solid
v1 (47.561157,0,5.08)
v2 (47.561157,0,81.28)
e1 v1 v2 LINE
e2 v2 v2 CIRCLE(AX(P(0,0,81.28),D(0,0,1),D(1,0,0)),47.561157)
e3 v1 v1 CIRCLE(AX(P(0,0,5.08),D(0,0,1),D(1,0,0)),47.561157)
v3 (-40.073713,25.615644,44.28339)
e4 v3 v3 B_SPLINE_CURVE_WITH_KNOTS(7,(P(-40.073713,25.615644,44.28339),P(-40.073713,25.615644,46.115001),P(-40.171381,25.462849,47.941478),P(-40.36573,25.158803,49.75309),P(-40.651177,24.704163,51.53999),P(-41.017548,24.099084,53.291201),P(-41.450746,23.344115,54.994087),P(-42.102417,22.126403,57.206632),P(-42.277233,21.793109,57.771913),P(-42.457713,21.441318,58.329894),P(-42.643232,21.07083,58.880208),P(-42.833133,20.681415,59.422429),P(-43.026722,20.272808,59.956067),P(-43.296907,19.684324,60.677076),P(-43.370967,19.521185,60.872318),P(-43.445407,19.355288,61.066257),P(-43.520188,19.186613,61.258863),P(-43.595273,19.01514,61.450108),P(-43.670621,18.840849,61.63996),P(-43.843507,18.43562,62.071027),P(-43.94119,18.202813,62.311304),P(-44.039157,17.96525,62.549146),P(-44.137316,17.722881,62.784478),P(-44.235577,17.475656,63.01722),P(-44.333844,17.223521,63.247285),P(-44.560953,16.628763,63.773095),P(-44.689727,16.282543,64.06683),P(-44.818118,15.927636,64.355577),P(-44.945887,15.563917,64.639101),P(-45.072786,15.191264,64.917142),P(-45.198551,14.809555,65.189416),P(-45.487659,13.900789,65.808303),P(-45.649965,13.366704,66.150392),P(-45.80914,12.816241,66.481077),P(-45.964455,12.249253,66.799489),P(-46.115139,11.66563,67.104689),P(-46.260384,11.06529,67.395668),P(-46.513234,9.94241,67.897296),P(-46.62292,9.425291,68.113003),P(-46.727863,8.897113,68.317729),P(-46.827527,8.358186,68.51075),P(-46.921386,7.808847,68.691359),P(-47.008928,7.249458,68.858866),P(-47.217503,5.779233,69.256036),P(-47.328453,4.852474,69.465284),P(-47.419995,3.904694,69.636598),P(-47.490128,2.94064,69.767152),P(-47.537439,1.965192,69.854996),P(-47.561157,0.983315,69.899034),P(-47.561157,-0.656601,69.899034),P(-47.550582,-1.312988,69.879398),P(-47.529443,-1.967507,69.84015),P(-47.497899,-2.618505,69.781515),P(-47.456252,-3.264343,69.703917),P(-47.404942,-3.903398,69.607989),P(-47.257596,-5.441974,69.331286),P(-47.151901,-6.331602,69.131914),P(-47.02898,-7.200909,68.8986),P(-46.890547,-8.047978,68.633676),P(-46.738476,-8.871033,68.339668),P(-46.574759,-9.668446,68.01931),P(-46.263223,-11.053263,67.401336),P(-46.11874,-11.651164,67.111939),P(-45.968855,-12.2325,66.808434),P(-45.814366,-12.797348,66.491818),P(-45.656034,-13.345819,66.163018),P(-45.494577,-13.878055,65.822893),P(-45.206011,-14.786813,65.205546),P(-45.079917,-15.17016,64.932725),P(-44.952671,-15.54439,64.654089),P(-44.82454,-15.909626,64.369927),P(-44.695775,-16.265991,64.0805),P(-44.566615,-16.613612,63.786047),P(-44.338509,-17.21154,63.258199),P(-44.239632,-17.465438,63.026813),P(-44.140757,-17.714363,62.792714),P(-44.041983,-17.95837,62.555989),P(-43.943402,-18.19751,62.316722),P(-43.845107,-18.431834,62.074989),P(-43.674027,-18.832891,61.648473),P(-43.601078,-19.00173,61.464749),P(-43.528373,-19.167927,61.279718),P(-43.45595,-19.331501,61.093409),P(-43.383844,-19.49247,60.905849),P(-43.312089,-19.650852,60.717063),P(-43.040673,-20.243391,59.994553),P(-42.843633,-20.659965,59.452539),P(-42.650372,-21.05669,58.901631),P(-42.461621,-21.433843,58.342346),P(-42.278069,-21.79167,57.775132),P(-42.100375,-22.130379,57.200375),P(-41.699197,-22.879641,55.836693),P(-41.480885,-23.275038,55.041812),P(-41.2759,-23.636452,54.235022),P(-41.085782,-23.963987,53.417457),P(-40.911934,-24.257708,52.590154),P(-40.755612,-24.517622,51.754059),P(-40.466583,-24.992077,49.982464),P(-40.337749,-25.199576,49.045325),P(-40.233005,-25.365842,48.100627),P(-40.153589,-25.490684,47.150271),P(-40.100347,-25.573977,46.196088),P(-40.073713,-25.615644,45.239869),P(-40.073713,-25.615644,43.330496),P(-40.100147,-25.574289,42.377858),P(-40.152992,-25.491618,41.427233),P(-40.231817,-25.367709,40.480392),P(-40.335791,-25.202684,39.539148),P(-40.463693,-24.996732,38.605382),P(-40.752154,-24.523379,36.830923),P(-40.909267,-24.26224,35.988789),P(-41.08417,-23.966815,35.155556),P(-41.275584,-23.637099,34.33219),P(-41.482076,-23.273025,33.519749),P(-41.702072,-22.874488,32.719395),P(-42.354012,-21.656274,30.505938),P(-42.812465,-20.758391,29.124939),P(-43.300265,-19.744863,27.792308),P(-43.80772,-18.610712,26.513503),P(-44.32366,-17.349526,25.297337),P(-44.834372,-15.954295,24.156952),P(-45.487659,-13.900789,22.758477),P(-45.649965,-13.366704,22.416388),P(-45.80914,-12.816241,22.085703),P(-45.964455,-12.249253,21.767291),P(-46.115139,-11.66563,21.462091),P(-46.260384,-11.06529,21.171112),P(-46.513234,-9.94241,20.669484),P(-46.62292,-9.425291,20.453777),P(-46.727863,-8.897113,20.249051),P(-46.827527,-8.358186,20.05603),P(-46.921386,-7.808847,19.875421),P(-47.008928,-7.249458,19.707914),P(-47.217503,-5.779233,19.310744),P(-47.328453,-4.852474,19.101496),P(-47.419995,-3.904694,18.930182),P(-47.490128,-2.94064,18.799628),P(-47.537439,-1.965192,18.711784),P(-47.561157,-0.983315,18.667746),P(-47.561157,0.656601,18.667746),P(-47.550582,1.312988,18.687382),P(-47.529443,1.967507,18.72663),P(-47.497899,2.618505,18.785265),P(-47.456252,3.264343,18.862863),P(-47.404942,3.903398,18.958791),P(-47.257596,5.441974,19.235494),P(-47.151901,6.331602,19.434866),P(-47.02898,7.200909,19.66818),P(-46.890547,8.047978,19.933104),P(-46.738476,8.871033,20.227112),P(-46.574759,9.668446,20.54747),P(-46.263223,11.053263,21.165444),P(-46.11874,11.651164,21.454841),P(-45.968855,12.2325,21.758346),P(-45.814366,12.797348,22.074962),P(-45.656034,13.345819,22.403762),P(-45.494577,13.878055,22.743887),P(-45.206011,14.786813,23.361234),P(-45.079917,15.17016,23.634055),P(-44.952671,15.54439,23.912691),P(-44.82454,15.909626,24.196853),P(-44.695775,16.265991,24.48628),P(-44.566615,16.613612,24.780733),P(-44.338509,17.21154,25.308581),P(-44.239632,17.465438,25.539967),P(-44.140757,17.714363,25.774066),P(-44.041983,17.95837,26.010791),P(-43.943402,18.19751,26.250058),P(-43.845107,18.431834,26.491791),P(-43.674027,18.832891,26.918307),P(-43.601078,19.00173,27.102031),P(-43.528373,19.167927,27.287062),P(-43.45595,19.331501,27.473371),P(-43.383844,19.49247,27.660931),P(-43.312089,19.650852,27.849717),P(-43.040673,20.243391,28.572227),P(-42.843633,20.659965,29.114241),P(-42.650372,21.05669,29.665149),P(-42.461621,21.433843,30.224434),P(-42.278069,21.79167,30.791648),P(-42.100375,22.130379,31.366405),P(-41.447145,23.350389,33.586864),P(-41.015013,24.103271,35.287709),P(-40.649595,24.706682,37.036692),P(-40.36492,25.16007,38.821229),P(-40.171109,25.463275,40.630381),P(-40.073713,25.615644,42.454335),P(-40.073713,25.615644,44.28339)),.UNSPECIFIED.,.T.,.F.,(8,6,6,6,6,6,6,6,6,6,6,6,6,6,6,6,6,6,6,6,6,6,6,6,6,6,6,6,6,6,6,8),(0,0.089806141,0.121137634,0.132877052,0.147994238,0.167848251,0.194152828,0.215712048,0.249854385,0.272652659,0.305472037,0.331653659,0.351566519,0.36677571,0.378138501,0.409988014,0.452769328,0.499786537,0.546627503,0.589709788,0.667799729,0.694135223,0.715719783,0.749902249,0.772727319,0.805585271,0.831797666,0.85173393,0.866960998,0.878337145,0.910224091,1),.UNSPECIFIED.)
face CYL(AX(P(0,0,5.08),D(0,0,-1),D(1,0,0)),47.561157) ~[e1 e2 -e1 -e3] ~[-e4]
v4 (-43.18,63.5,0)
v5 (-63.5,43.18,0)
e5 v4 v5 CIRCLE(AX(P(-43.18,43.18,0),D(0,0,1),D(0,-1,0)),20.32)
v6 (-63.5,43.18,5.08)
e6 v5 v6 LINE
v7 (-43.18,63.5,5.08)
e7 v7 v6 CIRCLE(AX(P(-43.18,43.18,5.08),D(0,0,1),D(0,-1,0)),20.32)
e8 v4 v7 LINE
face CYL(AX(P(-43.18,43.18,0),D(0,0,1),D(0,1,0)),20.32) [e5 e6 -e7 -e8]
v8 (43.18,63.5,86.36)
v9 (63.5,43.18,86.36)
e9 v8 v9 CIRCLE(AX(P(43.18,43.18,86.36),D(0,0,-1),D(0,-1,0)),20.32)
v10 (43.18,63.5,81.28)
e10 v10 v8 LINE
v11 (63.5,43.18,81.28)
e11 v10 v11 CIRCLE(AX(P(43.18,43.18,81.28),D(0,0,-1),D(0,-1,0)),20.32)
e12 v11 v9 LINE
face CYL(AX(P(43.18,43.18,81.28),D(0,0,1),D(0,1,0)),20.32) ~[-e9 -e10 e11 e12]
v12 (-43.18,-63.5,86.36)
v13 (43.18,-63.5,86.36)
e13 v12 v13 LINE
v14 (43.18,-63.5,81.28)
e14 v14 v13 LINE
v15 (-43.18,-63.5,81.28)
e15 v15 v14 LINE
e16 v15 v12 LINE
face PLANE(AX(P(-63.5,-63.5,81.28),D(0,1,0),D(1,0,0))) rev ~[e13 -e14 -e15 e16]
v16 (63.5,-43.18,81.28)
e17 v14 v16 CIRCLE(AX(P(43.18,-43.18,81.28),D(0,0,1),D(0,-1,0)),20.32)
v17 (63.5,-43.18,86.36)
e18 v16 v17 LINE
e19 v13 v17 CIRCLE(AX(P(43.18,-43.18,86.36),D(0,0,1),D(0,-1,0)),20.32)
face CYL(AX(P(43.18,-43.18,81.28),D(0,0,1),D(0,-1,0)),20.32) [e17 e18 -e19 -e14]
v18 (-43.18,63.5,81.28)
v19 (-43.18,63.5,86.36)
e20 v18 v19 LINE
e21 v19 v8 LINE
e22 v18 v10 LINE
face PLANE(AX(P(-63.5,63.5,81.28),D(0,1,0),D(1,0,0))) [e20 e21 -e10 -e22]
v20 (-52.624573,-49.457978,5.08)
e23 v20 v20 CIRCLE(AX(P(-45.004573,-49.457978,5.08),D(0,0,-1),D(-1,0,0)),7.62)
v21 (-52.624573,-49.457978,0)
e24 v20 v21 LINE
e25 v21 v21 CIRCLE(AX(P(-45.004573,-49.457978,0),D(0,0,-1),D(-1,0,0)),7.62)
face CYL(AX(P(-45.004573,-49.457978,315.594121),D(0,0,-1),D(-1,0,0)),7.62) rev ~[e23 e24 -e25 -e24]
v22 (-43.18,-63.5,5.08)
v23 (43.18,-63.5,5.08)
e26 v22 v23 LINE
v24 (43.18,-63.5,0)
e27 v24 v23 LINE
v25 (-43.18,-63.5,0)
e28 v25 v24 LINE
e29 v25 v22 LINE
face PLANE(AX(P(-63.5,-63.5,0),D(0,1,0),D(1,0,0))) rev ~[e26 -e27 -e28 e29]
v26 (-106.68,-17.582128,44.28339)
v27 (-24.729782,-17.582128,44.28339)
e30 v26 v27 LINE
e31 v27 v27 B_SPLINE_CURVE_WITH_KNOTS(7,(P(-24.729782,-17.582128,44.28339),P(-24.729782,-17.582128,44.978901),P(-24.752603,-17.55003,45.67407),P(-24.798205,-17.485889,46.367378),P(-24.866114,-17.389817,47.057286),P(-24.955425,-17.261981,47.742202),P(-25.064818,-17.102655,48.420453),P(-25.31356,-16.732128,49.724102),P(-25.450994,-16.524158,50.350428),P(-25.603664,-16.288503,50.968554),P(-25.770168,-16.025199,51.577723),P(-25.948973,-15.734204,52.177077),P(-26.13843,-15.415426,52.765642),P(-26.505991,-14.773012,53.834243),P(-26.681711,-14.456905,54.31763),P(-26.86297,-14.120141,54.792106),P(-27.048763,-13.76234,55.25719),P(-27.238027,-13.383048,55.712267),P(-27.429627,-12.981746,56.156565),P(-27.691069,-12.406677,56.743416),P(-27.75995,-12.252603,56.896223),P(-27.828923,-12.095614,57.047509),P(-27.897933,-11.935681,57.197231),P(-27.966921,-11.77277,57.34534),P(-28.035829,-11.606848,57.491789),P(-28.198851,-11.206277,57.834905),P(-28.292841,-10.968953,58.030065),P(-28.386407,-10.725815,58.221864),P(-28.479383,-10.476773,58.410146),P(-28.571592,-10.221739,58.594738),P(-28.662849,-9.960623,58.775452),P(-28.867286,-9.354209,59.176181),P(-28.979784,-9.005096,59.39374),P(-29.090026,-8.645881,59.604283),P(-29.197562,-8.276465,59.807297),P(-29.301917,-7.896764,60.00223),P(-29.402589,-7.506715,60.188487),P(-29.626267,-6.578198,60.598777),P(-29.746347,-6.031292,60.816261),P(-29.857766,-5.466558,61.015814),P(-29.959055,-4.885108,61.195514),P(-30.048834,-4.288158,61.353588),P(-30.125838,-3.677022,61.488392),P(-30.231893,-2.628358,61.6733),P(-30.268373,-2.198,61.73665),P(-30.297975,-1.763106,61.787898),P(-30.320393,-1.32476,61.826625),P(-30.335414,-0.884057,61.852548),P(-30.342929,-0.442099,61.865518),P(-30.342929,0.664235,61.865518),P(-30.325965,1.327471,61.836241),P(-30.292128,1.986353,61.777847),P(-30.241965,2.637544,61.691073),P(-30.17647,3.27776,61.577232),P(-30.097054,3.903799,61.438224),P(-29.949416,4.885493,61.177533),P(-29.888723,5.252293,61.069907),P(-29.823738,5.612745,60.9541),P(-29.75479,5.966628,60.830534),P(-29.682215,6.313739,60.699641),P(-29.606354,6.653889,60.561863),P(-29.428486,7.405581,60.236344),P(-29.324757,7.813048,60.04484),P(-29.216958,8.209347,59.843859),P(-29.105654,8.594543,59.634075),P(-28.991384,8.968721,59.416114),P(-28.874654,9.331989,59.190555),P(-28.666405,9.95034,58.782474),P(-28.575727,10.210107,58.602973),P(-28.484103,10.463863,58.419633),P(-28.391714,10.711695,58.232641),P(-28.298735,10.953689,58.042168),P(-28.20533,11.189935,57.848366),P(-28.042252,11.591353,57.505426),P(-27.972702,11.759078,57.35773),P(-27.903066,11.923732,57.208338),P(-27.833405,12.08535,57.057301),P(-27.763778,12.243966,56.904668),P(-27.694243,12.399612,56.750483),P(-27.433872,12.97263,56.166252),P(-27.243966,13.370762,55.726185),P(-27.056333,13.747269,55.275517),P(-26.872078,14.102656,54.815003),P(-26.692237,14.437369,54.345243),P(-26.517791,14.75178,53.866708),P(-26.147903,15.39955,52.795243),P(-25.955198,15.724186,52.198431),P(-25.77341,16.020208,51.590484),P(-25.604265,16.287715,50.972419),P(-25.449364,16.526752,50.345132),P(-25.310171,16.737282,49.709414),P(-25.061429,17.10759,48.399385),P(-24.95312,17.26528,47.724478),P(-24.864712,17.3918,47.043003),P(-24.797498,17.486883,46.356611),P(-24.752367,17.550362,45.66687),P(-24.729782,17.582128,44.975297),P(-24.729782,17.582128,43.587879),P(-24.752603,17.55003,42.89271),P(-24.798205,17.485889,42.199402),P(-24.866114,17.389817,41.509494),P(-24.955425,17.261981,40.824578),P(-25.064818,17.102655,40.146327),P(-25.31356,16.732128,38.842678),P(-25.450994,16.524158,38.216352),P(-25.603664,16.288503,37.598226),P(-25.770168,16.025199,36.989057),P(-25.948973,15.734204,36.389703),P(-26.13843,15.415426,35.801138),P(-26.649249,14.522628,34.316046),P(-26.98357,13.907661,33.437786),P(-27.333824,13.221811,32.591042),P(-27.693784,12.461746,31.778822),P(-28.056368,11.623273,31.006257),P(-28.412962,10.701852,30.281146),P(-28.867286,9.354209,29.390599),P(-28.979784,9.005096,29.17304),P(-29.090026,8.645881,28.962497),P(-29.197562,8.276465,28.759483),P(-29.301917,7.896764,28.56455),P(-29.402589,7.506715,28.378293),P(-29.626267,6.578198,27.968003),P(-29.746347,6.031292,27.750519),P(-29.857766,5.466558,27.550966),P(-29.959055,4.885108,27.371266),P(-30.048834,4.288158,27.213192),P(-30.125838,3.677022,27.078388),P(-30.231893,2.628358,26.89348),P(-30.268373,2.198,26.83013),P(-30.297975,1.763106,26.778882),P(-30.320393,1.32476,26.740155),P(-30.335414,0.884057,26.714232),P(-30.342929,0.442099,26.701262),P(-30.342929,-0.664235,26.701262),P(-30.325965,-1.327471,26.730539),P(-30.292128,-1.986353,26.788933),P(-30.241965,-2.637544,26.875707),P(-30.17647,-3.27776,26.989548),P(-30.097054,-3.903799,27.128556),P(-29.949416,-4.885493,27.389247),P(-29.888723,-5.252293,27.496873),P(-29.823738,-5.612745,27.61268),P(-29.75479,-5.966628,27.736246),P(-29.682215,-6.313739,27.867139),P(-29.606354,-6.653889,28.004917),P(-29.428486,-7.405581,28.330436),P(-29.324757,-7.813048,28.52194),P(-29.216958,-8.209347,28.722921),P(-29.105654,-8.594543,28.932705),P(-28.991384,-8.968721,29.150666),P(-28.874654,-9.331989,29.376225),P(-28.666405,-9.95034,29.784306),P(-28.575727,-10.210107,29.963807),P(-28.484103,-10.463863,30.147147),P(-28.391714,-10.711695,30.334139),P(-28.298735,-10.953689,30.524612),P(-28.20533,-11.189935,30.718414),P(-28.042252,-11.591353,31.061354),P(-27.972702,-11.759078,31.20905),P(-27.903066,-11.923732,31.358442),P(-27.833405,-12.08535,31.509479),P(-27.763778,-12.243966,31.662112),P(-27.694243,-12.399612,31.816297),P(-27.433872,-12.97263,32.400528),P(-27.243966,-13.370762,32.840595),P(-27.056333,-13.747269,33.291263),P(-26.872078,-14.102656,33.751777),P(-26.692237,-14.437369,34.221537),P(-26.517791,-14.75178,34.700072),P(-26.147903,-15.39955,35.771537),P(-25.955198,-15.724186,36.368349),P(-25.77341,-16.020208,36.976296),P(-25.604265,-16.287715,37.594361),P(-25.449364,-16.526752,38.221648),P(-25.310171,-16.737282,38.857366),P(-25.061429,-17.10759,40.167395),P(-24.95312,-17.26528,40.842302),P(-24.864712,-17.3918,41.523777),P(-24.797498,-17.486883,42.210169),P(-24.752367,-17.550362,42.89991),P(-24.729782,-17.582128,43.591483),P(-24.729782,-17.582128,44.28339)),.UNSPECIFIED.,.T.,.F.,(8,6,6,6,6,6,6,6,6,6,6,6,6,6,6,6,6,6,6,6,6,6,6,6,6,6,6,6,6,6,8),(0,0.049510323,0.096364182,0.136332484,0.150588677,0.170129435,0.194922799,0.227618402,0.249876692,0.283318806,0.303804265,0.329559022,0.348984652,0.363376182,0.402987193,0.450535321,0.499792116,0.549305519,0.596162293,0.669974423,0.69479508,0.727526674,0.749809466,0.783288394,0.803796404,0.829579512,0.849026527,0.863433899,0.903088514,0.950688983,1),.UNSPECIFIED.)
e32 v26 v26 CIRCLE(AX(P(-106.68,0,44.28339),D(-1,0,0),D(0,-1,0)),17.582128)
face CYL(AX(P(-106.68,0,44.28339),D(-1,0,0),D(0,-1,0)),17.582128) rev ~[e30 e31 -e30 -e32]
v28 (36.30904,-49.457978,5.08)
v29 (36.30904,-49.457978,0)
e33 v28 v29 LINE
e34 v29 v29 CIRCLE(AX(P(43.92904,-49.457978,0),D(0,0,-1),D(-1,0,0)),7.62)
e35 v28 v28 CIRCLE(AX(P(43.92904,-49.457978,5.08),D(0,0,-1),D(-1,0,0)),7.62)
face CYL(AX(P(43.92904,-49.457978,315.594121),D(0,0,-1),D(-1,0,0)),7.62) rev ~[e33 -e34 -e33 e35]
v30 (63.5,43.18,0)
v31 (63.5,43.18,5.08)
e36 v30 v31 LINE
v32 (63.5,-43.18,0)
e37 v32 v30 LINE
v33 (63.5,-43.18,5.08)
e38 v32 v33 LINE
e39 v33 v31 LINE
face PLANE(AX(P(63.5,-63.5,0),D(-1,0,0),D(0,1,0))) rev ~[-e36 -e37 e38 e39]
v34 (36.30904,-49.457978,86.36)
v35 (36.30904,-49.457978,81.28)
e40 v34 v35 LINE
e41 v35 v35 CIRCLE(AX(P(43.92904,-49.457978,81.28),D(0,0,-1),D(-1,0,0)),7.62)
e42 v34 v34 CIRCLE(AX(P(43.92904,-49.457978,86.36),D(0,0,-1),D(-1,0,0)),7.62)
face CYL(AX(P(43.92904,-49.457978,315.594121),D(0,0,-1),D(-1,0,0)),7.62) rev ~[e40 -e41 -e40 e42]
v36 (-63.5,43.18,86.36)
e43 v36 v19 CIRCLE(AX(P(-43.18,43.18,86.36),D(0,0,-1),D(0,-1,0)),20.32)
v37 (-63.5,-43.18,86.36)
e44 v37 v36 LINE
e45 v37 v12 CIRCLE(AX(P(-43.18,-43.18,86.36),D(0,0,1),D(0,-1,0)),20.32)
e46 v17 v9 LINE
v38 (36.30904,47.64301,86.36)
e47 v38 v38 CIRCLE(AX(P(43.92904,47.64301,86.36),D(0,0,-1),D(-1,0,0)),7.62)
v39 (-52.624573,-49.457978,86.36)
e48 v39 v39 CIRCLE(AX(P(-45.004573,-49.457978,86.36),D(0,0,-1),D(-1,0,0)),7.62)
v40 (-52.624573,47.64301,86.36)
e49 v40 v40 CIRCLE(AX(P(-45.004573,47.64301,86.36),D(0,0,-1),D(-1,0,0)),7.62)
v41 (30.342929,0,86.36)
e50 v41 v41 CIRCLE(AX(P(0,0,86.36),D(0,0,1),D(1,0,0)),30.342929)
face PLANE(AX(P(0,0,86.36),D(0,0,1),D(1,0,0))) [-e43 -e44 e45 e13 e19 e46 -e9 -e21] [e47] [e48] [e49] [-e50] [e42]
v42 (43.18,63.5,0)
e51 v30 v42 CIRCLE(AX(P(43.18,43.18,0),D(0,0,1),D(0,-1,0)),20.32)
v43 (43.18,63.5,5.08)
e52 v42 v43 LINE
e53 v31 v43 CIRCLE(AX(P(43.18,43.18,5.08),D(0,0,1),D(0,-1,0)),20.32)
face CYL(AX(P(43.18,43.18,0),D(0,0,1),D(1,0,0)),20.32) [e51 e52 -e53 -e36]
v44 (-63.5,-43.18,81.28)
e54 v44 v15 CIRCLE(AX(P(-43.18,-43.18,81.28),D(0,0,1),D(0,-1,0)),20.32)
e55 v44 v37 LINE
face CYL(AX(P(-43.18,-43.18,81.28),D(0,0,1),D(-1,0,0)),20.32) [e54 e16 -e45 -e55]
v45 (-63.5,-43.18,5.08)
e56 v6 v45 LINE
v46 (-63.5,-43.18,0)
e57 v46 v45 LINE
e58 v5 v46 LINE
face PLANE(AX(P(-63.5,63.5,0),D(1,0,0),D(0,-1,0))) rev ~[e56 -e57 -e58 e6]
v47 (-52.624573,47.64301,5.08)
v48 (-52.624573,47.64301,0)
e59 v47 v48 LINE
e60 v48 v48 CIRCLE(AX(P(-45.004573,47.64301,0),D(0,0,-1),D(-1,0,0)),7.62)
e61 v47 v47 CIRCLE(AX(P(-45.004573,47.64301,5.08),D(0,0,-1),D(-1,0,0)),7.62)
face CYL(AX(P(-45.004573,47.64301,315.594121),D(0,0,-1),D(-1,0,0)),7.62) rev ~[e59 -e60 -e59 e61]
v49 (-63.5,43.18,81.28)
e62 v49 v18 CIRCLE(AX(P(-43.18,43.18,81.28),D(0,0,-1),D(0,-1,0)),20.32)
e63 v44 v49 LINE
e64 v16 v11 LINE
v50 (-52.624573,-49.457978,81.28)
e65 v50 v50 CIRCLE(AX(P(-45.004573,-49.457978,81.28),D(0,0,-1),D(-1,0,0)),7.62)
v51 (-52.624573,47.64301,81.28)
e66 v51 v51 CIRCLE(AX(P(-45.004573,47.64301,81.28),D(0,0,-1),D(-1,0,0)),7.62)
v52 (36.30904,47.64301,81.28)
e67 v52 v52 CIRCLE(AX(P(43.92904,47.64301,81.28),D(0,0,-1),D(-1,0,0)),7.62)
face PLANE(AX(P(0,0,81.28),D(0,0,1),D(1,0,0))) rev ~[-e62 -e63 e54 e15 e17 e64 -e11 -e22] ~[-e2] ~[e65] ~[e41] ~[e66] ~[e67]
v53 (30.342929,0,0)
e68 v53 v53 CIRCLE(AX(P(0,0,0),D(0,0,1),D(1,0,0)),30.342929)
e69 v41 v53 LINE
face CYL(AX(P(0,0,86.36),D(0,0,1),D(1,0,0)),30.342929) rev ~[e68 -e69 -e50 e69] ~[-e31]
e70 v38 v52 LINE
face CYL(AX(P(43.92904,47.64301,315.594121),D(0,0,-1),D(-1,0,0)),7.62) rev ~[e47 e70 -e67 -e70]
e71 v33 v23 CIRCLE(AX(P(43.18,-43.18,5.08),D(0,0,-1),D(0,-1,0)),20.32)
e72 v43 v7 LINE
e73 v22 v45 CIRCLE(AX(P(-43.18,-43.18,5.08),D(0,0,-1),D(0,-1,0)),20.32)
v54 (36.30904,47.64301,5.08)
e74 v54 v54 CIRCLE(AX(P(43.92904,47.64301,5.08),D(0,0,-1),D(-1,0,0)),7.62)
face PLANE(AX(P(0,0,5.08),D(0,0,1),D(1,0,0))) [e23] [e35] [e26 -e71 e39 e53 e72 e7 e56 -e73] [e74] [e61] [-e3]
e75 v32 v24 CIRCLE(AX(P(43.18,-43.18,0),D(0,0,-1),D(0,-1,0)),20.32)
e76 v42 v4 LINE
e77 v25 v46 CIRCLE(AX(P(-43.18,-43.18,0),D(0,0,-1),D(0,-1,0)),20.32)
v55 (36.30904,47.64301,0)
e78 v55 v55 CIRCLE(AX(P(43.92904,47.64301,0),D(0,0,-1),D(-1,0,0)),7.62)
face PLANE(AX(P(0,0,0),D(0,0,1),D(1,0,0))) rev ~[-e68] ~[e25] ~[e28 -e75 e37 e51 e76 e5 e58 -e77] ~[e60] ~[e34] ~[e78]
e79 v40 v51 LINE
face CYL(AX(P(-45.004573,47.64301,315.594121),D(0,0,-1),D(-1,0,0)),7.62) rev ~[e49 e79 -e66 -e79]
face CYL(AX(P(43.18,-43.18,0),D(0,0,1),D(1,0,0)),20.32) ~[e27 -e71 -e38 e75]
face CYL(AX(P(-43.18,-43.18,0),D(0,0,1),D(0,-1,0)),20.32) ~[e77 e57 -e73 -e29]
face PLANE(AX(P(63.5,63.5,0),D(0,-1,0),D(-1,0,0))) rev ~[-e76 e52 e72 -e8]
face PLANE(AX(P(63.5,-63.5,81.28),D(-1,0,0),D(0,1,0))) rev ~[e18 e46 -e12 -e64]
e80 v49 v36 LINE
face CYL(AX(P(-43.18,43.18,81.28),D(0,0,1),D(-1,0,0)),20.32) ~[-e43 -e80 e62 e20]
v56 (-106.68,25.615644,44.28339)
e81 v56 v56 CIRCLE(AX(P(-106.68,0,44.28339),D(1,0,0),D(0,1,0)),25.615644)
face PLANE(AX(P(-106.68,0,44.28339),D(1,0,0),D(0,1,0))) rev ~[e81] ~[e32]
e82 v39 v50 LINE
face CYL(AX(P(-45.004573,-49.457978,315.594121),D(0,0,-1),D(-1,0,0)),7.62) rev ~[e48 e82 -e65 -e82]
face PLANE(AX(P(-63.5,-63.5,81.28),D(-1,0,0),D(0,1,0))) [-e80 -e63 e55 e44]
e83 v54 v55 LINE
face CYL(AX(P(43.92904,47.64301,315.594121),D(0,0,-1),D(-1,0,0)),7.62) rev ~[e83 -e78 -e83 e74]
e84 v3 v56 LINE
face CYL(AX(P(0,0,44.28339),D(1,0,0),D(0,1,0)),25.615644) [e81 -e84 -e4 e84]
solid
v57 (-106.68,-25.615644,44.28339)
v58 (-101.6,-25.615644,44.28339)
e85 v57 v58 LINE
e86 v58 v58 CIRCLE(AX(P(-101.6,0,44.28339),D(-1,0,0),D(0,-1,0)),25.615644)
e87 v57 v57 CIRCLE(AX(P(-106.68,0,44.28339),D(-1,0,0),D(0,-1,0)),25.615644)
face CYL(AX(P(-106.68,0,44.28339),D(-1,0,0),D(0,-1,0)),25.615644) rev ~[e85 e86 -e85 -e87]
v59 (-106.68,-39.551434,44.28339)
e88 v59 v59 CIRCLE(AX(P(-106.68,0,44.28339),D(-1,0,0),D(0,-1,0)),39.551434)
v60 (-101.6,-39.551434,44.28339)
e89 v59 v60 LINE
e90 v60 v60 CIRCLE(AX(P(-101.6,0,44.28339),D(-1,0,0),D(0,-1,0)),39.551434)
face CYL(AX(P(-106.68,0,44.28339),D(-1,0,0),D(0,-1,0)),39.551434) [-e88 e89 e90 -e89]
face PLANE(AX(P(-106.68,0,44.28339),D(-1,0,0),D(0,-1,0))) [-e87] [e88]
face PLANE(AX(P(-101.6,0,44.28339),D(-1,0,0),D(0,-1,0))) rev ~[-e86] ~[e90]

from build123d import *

# Parameters (mm, degrees)
F1_DEPTH  = 5.08
F2_R      = 47.561157
F3_DEPTH  = 76.2
F4_W      = 127
F4_H      = 127
F5_DEPTH  = 5.08
F6_R      = 20.32
F7_R      = 25.615644
F8_DEPTH  = 106.68
F9_R      = 39.551434
F9_R_2    = 25.615644
F10_DEPTH = 5.08
F12_D     = 15.24
F13_R     = 30.342929
F14_DEPTH = 254
F15_R     = 17.582128
F16_DEPTH = 101.6


with BuildPart() as f1:
    # F0 (on Top) → F1 (new body)
    with BuildSketch(Plane.XY):
        Polygon((63.5, -63.5), (63.5, 0), (63.5, 63.5), (0, 63.5), (-63.5, 63.5), (-63.5, 0), (-63.5, -63.5), (0, -63.5), align=None)
    extrude(amount=F1_DEPTH)

    # F2 (on face) → F3 (join)
    with BuildSketch(Plane.XY.offset(5.08)):
        Circle(F2_R)
    extrude(amount=F3_DEPTH)

    # F4 (on face) → F5 (join)
    with BuildSketch(Plane.XY.offset(81.28)):
        Rectangle(F4_W, F4_H)
    extrude(amount=F5_DEPTH)

    # F6
    f6_edges = [f1.edges().sort_by_distance(p)[0] for p in [
        (-63.5, 63.5, 2.54),
        (-63.5, 63.5, 83.82),
        (63.5, 63.5, 83.82),
        (63.5, 63.5, 2.54),
        (63.5, -63.5, 2.54),
        (63.5, -63.5, 83.82),
        (-63.5, -63.5, 83.82),
        (-63.5, -63.5, 2.54),
    ]]
    fillet(f6_edges, radius=F6_R)

    # F7 (on Right) → F8 (join)
    with BuildSketch(Plane.YZ):
        with Locations((0, 44.28339)):
            Circle(F7_R)
    extrude(amount=-F8_DEPTH)

    # F12 (through all)
    with Locations(Plane.XY.offset(86.36)):
        with Locations((-45.004573, 47.64301), (43.92904, 47.64301), (43.92904, -49.457978), (-45.004573, -49.457978)):
            Hole(F12_D / 2)

    # F13 (on face) → F14 (cut)
    with BuildSketch(Plane.XY.offset(86.36)):
        Circle(F13_R)
    extrude(amount=-F14_DEPTH, mode=Mode.SUBTRACT)

    # F15 (on face) → F16 (cut)
    with BuildSketch(Plane(origin=(-106.68, 0, 0), x_dir=(0, -1, 0), z_dir=(-1, 0, 0))):
        with Locations((0, 44.28339)):
            Circle(F15_R)
    extrude(amount=-F16_DEPTH, mode=Mode.SUBTRACT)


with BuildPart() as f10:
    # F9 (on face) → F10 (new body)
    with BuildSketch(Plane(origin=(-106.68, 0, 0), x_dir=(0, -1, 0), z_dir=(-1, 0, 0))):
        with Locations((0, 44.28339)):
            Circle(F9_R)
        with Locations((0, 44.28339)):
            Circle(F9_R_2, mode=Mode.SUBTRACT)
    extrude(amount=-F10_DEPTH)


solid = Compound([f1.part, f10.part])
